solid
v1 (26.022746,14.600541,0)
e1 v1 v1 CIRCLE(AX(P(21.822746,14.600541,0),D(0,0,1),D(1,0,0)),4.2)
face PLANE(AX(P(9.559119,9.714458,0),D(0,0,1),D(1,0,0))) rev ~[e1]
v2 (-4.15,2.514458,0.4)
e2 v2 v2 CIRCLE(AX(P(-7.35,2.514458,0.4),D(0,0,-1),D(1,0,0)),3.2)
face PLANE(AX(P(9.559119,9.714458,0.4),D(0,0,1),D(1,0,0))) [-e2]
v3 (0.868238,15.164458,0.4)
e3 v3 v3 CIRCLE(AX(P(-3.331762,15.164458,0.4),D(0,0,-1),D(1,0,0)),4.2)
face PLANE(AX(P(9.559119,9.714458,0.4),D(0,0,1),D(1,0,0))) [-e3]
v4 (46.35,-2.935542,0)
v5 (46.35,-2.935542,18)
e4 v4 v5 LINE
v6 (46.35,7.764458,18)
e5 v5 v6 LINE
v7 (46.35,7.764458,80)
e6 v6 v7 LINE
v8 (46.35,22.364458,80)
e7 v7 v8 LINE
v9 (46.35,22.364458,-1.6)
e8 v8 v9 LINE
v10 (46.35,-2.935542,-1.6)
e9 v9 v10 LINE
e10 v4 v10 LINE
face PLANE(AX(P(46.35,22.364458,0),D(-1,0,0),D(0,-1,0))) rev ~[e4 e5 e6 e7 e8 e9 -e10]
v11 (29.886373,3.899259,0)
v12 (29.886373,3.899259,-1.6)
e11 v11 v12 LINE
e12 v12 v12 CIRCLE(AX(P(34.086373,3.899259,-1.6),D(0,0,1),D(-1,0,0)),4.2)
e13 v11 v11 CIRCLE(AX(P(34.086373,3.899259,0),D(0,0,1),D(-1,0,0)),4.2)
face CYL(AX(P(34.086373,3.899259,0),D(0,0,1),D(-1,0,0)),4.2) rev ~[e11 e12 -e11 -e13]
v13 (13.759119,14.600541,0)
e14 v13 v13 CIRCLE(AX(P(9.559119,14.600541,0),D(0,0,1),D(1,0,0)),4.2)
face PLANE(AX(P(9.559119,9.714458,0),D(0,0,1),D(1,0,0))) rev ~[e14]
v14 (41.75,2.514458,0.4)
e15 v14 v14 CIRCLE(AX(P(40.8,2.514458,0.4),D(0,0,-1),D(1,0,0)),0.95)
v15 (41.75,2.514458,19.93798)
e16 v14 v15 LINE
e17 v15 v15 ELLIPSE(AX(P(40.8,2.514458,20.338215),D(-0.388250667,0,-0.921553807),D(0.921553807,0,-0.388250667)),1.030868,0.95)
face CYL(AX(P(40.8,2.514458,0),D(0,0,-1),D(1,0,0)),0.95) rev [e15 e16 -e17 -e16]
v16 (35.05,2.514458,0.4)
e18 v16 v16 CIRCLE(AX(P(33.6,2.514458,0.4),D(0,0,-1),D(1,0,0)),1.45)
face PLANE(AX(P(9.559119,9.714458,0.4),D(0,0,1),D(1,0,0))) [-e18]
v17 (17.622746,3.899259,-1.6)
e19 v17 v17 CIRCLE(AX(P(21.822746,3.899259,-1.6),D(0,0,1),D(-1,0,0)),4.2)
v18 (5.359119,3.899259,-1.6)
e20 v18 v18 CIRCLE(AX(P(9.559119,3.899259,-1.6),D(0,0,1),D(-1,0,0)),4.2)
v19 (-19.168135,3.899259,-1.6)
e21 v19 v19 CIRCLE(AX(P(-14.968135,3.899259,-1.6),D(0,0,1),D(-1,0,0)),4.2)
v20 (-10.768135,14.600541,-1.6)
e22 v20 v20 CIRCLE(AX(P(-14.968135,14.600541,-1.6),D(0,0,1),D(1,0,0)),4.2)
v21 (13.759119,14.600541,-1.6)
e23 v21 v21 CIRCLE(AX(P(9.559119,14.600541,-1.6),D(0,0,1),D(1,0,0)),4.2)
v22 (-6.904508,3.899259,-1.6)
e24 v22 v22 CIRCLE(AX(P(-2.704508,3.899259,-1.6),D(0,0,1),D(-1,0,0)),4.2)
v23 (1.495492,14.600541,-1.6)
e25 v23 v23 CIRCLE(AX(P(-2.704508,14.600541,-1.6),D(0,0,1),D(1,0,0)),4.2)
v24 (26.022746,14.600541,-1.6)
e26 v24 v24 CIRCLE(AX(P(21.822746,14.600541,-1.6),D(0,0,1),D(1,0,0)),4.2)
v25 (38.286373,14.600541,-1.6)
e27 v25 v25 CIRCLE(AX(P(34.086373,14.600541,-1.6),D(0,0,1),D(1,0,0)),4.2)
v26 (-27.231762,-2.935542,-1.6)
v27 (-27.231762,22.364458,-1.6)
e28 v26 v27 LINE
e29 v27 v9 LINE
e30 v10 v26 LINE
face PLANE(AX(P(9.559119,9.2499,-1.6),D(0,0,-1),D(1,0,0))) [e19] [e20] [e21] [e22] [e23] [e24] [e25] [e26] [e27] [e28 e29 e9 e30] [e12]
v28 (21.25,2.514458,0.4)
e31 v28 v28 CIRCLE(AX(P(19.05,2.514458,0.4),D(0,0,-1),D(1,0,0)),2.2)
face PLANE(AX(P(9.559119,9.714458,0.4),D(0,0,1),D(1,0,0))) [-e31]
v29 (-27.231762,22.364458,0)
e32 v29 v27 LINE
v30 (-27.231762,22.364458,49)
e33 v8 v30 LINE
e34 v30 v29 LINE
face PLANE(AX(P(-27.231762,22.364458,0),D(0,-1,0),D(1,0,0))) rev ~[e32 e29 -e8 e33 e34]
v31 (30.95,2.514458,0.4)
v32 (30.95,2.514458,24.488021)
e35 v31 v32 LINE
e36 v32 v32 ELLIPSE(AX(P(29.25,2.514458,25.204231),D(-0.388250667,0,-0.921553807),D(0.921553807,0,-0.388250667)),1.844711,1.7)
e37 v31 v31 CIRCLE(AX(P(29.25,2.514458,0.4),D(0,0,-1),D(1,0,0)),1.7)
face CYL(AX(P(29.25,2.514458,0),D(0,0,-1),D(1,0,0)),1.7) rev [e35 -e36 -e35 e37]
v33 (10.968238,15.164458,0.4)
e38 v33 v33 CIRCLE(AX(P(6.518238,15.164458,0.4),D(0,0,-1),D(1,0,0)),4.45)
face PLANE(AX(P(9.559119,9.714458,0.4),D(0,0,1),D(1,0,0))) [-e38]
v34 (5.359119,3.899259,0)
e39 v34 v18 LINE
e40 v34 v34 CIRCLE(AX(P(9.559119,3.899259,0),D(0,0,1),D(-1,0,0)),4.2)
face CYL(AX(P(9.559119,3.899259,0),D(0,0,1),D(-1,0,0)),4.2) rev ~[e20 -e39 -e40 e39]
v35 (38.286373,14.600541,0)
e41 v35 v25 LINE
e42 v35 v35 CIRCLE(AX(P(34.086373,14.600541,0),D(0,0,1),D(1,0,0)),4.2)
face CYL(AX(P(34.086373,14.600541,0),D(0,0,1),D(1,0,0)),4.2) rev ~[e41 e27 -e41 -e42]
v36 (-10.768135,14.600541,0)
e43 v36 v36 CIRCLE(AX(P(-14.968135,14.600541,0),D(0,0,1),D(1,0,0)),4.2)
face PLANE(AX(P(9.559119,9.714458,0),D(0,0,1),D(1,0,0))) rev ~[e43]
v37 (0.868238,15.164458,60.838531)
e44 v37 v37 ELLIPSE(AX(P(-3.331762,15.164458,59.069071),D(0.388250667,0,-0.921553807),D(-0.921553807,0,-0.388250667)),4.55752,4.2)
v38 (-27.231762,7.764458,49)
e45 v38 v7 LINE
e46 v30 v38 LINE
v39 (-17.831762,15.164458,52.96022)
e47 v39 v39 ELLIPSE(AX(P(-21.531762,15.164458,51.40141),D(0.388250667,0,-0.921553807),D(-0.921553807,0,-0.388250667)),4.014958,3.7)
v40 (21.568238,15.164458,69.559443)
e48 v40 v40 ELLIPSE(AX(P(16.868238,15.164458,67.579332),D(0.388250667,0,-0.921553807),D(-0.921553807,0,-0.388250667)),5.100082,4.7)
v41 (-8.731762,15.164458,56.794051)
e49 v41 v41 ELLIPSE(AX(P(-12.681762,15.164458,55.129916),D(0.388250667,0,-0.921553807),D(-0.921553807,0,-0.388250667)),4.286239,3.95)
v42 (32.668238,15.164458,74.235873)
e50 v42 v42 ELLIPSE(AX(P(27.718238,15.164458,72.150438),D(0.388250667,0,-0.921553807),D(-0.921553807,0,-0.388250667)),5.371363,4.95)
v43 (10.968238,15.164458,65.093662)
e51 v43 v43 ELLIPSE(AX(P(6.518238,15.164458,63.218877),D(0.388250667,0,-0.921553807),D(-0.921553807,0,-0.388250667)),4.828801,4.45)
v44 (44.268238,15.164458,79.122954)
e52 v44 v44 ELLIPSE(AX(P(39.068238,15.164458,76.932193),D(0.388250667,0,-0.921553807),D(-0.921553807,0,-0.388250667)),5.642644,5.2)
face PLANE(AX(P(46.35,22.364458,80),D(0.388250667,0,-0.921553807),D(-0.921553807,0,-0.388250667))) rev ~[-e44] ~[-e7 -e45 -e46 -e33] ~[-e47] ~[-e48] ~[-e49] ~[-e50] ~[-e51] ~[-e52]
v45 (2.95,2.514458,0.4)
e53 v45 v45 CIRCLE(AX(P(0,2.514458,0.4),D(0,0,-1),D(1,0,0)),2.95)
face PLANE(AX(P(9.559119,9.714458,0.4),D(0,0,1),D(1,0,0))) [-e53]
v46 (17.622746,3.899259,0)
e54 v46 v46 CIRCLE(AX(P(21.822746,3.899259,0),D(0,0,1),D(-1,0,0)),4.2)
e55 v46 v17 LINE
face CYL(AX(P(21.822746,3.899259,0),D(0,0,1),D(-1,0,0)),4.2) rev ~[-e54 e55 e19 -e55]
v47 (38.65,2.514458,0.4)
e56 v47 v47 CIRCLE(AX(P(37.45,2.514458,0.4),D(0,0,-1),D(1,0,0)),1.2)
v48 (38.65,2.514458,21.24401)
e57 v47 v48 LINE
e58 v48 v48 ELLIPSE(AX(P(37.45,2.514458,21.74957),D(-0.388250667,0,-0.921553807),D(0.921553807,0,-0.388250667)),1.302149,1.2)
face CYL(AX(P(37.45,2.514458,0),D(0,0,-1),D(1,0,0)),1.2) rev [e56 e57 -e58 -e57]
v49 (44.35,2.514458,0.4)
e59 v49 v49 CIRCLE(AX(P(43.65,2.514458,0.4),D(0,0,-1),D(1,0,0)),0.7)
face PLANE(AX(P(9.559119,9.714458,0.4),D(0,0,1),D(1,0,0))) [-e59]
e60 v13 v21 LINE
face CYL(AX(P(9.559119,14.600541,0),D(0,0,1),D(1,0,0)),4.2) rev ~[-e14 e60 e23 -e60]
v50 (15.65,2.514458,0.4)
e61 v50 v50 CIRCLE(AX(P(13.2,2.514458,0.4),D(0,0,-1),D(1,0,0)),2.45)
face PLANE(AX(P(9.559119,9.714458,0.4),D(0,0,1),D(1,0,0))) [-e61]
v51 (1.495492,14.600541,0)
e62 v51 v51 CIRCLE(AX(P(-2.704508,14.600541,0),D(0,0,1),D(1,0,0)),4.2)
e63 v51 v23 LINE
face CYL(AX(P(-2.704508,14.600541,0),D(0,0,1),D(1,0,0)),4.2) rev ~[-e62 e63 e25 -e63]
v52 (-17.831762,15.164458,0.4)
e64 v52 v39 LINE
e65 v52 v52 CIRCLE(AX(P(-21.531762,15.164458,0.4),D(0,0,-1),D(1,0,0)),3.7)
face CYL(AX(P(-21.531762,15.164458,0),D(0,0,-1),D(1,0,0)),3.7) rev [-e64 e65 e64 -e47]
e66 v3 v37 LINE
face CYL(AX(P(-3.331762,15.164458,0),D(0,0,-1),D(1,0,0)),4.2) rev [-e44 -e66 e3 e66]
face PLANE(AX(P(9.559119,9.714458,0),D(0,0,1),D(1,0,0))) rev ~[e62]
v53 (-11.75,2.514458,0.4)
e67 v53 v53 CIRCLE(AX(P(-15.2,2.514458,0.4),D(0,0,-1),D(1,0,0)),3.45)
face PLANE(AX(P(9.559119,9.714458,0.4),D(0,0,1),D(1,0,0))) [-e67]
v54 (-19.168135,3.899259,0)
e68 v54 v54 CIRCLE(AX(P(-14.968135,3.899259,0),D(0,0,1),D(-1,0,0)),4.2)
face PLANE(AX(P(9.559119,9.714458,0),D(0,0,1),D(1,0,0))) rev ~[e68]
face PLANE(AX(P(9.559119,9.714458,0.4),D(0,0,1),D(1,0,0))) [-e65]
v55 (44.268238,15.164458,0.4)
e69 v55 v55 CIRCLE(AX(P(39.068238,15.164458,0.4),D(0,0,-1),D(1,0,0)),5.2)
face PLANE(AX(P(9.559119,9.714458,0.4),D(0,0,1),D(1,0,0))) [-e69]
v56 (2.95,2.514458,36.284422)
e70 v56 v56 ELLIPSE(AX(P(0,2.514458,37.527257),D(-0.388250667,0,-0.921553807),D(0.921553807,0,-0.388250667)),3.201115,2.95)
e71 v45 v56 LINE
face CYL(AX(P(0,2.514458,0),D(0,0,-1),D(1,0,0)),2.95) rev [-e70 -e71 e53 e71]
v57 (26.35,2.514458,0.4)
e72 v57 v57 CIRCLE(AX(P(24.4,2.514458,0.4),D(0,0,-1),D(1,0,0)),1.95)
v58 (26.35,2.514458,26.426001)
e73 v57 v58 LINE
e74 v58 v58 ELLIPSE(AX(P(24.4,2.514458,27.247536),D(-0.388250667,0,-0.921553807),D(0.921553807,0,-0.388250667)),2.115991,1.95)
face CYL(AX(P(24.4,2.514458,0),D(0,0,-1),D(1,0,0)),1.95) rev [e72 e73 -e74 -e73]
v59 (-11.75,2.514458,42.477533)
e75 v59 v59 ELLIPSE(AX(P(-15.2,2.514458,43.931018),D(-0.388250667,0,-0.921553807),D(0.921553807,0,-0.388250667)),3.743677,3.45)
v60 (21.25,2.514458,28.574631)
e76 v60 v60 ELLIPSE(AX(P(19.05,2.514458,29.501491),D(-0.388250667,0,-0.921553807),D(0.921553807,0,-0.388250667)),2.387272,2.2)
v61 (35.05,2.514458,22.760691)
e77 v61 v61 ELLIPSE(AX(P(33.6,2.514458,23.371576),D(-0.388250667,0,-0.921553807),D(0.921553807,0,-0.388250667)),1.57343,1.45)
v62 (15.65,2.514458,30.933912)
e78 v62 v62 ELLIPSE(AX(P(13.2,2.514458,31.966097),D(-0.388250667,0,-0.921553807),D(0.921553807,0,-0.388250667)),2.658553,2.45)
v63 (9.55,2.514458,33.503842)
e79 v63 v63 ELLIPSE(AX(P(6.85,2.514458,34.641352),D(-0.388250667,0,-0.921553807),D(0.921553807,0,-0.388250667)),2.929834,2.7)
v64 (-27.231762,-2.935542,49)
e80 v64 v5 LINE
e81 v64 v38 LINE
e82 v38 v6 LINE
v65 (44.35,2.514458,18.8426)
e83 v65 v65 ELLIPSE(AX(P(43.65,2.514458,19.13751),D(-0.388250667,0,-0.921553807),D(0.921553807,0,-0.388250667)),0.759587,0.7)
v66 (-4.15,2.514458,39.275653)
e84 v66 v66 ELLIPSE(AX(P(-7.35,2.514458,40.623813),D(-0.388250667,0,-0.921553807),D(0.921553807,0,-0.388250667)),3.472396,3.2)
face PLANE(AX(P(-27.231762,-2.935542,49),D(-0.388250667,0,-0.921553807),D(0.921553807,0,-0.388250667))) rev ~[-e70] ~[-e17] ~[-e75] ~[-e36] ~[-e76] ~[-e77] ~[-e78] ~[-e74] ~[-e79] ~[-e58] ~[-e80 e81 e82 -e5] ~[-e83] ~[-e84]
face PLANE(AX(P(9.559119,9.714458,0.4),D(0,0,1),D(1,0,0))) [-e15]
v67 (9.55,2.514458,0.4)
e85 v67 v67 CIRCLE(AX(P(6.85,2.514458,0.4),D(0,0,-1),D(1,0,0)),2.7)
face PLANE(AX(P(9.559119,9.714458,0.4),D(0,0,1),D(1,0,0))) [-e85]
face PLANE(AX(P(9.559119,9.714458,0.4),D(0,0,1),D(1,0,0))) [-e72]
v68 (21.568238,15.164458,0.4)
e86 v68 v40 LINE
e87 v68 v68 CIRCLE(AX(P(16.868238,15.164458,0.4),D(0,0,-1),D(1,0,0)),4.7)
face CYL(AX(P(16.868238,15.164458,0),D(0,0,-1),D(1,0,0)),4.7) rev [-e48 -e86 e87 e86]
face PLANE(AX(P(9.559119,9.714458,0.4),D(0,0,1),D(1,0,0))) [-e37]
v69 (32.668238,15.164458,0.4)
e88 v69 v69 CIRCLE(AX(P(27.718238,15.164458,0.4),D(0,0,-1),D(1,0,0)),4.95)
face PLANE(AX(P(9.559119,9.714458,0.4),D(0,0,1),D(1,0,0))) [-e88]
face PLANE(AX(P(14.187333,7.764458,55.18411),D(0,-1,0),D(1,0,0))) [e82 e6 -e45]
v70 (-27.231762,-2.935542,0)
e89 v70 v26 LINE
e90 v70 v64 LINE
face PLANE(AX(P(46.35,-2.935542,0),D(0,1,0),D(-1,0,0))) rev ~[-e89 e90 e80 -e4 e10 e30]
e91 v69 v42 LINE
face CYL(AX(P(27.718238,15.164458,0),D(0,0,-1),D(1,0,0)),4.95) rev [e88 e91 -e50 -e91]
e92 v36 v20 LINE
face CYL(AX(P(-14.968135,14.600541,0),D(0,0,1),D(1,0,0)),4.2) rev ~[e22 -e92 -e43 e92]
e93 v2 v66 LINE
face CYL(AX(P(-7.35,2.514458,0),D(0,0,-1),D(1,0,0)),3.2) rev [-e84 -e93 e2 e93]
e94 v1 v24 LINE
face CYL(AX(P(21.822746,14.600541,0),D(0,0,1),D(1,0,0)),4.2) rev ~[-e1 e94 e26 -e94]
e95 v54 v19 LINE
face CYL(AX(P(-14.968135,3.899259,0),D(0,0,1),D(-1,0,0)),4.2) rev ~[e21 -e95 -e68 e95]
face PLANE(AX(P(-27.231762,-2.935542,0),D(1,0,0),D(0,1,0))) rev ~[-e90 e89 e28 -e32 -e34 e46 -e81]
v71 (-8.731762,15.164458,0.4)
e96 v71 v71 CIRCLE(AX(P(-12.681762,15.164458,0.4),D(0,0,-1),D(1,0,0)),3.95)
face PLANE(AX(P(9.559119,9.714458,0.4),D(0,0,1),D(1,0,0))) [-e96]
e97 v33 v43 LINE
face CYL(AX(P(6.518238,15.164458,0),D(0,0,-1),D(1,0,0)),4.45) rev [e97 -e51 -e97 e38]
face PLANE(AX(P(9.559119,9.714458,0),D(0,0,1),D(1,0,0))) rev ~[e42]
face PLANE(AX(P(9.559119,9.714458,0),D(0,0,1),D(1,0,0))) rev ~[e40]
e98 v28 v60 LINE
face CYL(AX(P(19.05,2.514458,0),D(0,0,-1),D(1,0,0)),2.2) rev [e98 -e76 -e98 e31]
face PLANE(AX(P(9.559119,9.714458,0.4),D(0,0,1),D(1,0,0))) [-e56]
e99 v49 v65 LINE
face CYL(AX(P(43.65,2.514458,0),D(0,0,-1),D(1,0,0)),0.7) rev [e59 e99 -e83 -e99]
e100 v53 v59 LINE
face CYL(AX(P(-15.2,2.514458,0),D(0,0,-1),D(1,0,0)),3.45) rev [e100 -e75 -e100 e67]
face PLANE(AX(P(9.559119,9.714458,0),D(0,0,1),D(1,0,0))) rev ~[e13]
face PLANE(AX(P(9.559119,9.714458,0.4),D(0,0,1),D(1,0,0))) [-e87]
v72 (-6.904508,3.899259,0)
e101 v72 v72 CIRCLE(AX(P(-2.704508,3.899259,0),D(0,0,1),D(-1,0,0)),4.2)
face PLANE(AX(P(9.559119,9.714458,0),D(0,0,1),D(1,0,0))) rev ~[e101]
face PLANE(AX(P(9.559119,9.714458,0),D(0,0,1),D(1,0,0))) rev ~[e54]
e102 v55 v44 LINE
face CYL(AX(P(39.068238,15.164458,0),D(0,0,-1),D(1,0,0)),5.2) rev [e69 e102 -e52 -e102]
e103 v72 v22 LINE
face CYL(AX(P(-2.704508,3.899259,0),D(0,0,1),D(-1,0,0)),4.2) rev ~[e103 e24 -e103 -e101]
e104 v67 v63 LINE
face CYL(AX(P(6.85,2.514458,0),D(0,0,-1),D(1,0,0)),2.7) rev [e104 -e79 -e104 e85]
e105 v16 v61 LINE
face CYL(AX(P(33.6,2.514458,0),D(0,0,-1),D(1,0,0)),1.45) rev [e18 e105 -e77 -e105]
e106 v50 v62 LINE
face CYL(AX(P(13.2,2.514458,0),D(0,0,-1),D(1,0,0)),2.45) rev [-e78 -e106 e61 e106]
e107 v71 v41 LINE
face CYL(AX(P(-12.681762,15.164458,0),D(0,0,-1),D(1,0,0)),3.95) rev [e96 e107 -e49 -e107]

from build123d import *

# Parameters (mm, degrees)
F0_W     = 73.5817615905
F0_H     = 25.3
F0_R     = 3.45
F0_R_2   = 3.2
F0_R_3   = 2.95
F0_R_4   = 2.7
F0_R_5   = 2.45
F0_R_6   = 2.2
F0_R_7   = 1.95
F0_R_8   = 1.7
F0_R_9   = 1.45
F0_R_10  = 1.2
F0_R_11  = 0.95
F0_R_12  = 0.7
F0_R_13  = 3.7
F0_R_14  = 3.95
F0_R_15  = 4.2
F0_R_16  = 4.45
F0_R_17  = 4.7
F0_R_18  = 4.95
F0_R_19  = 5.2
F1_DEPTH = 80
F3_DEPTH = 0.4
F4_DEPTH = 10.7
F6_DEPTH = 25
F8_DEPTH = 1.6


with BuildPart() as f1:
    # F0 (on Top) → F1 (new body)
    with BuildSketch(Plane.XY):
        with Locations((9.5591192048, 9.7144579899)):
            Rectangle(F0_W, F0_H)
        with Locations((-15.2, 2.5144579899)):
            Circle(F0_R, mode=Mode.SUBTRACT)
        with Locations((-7.35, 2.5144579899)):
            Circle(F0_R_2, mode=Mode.SUBTRACT)
        with Locations((0, 2.5144579899)):
            Circle(F0_R_3, mode=Mode.SUBTRACT)
        with Locations((6.85, 2.5144579899)):
            Circle(F0_R_4, mode=Mode.SUBTRACT)
        with Locations((13.2, 2.5144579899)):
            Circle(F0_R_5, mode=Mode.SUBTRACT)
        with Locations((19.05, 2.5144579899)):
            Circle(F0_R_6, mode=Mode.SUBTRACT)
        with Locations((24.4, 2.5144579899)):
            Circle(F0_R_7, mode=Mode.SUBTRACT)
        with Locations((29.25, 2.5144579899)):
            Circle(F0_R_8, mode=Mode.SUBTRACT)
        with Locations((33.6, 2.5144579899)):
            Circle(F0_R_9, mode=Mode.SUBTRACT)
        with Locations((37.45, 2.5144579899)):
            Circle(F0_R_10, mode=Mode.SUBTRACT)
        with Locations((40.8, 2.5144579899)):
            Circle(F0_R_11, mode=Mode.SUBTRACT)
        with Locations((43.65, 2.5144579899)):
            Circle(F0_R_12, mode=Mode.SUBTRACT)
        with Locations((-21.5317615905, 15.1644579899)):
            Circle(F0_R_13, mode=Mode.SUBTRACT)
        with Locations((-12.6817615905, 15.1644579899)):
            Circle(F0_R_14, mode=Mode.SUBTRACT)
        with Locations((-3.3317615905, 15.1644579899)):
            Circle(F0_R_15, mode=Mode.SUBTRACT)
        with Locations((6.5182384095, 15.1644579899)):
            Circle(F0_R_16, mode=Mode.SUBTRACT)
        with Locations((16.8682384095, 15.1644579899)):
            Circle(F0_R_17, mode=Mode.SUBTRACT)
        with Locations((27.7182384095, 15.1644579899)):
            Circle(F0_R_18, mode=Mode.SUBTRACT)
        with Locations((39.0682384095, 15.1644579899)):
            Circle(F0_R_19, mode=Mode.SUBTRACT)
    extrude(amount=F1_DEPTH)

    # F2 (on face) → F4 (cut)
    with BuildSketch(Plane.XZ.offset(2.9355420101)):
        Polygon((-27.2317615905, 80), (-27.2317615905, 49), (46.35, 18), (46.35, 80), align=None)
    extrude(amount=-F4_DEPTH, mode=Mode.SUBTRACT)

    # F5 (on face) → F6 (cut)
    with BuildSketch(Plane(origin=(0, 22.3644579899, 0), x_dir=(-1, 0, 0), z_dir=(0, 1, 0))):
        Polygon((-46.35, 80), (27.2317615905, 49), (27.2317615905, 80), align=None)
    extrude(amount=-F6_DEPTH, mode=Mode.SUBTRACT)



with BuildPart() as f3:
    # F0 (on Top) → F3 (new body)
    with BuildSketch(Plane.XY):
        with Locations((9.5591192048, 9.7144579899)):
            Rectangle(F0_W, F0_H)
        with Locations((-15.2, 2.5144579899)):
            Circle(F0_R, mode=Mode.SUBTRACT)
        with Locations((-7.35, 2.5144579899)):
            Circle(F0_R_2, mode=Mode.SUBTRACT)
        with Locations((0, 2.5144579899)):
            Circle(F0_R_3, mode=Mode.SUBTRACT)
        with Locations((6.85, 2.5144579899)):
            Circle(F0_R_4, mode=Mode.SUBTRACT)
        with Locations((13.2, 2.5144579899)):
            Circle(F0_R_5, mode=Mode.SUBTRACT)
        with Locations((19.05, 2.5144579899)):
            Circle(F0_R_6, mode=Mode.SUBTRACT)
        with Locations((24.4, 2.5144579899)):
            Circle(F0_R_7, mode=Mode.SUBTRACT)
        with Locations((29.25, 2.5144579899)):
            Circle(F0_R_8, mode=Mode.SUBTRACT)
        with Locations((33.6, 2.5144579899)):
            Circle(F0_R_9, mode=Mode.SUBTRACT)
        with Locations((37.45, 2.5144579899)):
            Circle(F0_R_10, mode=Mode.SUBTRACT)
        with Locations((40.8, 2.5144579899)):
            Circle(F0_R_11, mode=Mode.SUBTRACT)
        with Locations((43.65, 2.5144579899)):
            Circle(F0_R_12, mode=Mode.SUBTRACT)
        with Locations((-21.5317615905, 15.1644579899)):
            Circle(F0_R_13, mode=Mode.SUBTRACT)
        with Locations((-12.6817615905, 15.1644579899)):
            Circle(F0_R_14, mode=Mode.SUBTRACT)
        with Locations((-3.3317615905, 15.1644579899)):
            Circle(F0_R_15, mode=Mode.SUBTRACT)
        with Locations((6.5182384095, 15.1644579899)):
            Circle(F0_R_16, mode=Mode.SUBTRACT)
        with Locations((16.8682384095, 15.1644579899)):
            Circle(F0_R_17, mode=Mode.SUBTRACT)
        with Locations((27.7182384095, 15.1644579899)):
            Circle(F0_R_18, mode=Mode.SUBTRACT)
        with Locations((39.0682384095, 15.1644579899)):
            Circle(F0_R_19, mode=Mode.SUBTRACT)
        with Locations((39.0682384095, 15.1644579899)):
            Circle(F0_R_19)
        with Locations((27.7182384095, 15.1644579899)):
            Circle(F0_R_18)
        with Locations((16.8682384095, 15.1644579899)):
            Circle(F0_R_17)
        with Locations((6.5182384095, 15.1644579899)):
            Circle(F0_R_16)
        with Locations((-3.3317615905, 15.1644579899)):
            Circle(F0_R_15)
        with Locations((-12.6817615905, 15.1644579899)):
            Circle(F0_R_14)
        with Locations((-21.5317615905, 15.1644579899)):
            Circle(F0_R_13)
        with Locations((-15.2, 2.5144579899)):
            Circle(F0_R)
        with Locations((-7.35, 2.5144579899)):
            Circle(F0_R_2)
        with Locations((0, 2.5144579899)):
            Circle(F0_R_3)
        with Locations((6.85, 2.5144579899)):
            Circle(F0_R_4)
        with Locations((13.2, 2.5144579899)):
            Circle(F0_R_5)
        with Locations((19.05, 2.5144579899)):
            Circle(F0_R_6)
        with Locations((24.4, 2.5144579899)):
            Circle(F0_R_7)
        with Locations((29.25, 2.5144579899)):
            Circle(F0_R_8)
        with Locations((33.6, 2.5144579899)):
            Circle(F0_R_9)
        with Locations((37.45, 2.5144579899)):
            Circle(F0_R_10)
        with Locations((40.8, 2.5144579899)):
            Circle(F0_R_11)
        with Locations((43.65, 2.5144579899)):
            Circle(F0_R_12)
    extrude(amount=F3_DEPTH)


with BuildPart() as f1_1:
    add(f1.part)

    add(f3.part)  # F8 merges F3
    # F7 (on face) → F8 (join)
    with BuildSketch(Plane(origin=(0, 0, 0), x_dir=(1, 0, 0), z_dir=(0, 0, -1))):
        with BuildLine():
            Line((-19.1681346587, -3.8992594928), (-27.2317615905, -3.8992594928))
            Line((-27.2317615905, -3.8992594928), (-27.2317615905, -14.6005405113))
            Line((-27.2317615905, -14.6005405113), (-19.1681346587, -14.6005405113))
            ThreePointArc((-19.1681346587, -14.6005405113), (-14.9681346587, -10.4005405113), (-10.7681346587, -14.6005405113))
            Line((-10.7681346587, -14.6005405113), (-6.904507727, -14.6005405113))
            ThreePointArc((-6.904507727, -14.6005405113), (-2.704507727, -10.4005405113), (1.495492273, -14.6005405113))
            Line((1.495492273, -14.6005405113), (5.3591192048, -14.6005405113))
            ThreePointArc((5.3591192048, -14.6005405113), (9.5591192048, -10.4005405113), (13.7591192048, -14.6005405113))
            Line((13.7591192048, -14.6005405113), (17.6227461365, -14.6005405113))
            ThreePointArc((17.6227461365, -14.6005405113), (21.8227461365, -10.4005405113), (26.0227461365, -14.6005405113))
            Line((26.0227461365, -14.6005405113), (29.8863730683, -14.6005405113))
            ThreePointArc((29.8863730683, -14.6005405113), (34.0863730683, -10.4005405113), (38.2863730683, -14.6005405113))
            Line((38.2863730683, -14.6005405113), (46.35, -14.6005405113))
            Line((46.35, -14.6005405113), (46.35, -3.8992594928))
            Line((46.35, -3.8992594928), (38.2863730683, -3.8992594928))
            ThreePointArc((38.2863730683, -3.8992594928), (34.0863730683, -8.0992594928), (29.8863730683, -3.8992594928))
            Line((29.8863730683, -3.8992594928), (26.0227461365, -3.8992594928))
            ThreePointArc((26.0227461365, -3.8992594928), (21.8227461365, -8.0992594928), (17.6227461365, -3.8992594928))
            Line((17.6227461365, -3.8992594928), (13.7591192048, -3.8992594928))
            ThreePointArc((13.7591192048, -3.8992594928), (9.5591192048, -8.0992594928), (5.3591192048, -3.8992594928))
            Line((5.3591192048, -3.8992594928), (1.495492273, -3.8992594928))
            ThreePointArc((1.495492273, -3.8992594928), (-2.704507727, -8.0992594928), (-6.904507727, -3.8992594928))
            Line((-6.904507727, -3.8992594928), (-10.7681346587, -3.8992594928))
            ThreePointArc((-10.7681346587, -3.8992594928), (-14.9681346587, -8.0992594928), (-19.1681346587, -3.8992594928))
        make_face()
        with BuildLine():
            Line((46.35, 2.9355420101), (-27.2317615905, 2.9355420101))
            Line((-27.2317615905, 2.9355420101), (-27.2317615905, -3.8992594928))
            Line((-27.2317615905, -3.8992594928), (-19.1681346587, -3.8992594928))
            ThreePointArc((-19.1681346587, -3.8992594928), (-14.9681346587, 0.3007405072), (-10.7681346587, -3.8992594928))
            Line((-10.7681346587, -3.8992594928), (-6.904507727, -3.8992594928))
            ThreePointArc((-6.904507727, -3.8992594928), (-2.704507727, 0.3007405072), (1.495492273, -3.8992594928))
            Line((1.495492273, -3.8992594928), (5.3591192048, -3.8992594928))
            ThreePointArc((5.3591192048, -3.8992594928), (9.5591192048, 0.3007405072), (13.7591192048, -3.8992594928))
            Line((13.7591192048, -3.8992594928), (17.6227461365, -3.8992594928))
            ThreePointArc((17.6227461365, -3.8992594928), (21.8227461365, 0.3007405072), (26.0227461365, -3.8992594928))
            Line((26.0227461365, -3.8992594928), (29.8863730683, -3.8992594928))
            ThreePointArc((29.8863730683, -3.8992594928), (34.0863730683, 0.3007405072), (38.2863730683, -3.8992594928))
            Line((38.2863730683, -3.8992594928), (46.35, -3.8992594928))
            Line((46.35, -3.8992594928), (46.35, 2.9355420101))
        make_face()
        with BuildLine():
            Line((-19.1681346587, -14.6005405113), (-27.2317615905, -14.6005405113))
            Line((-27.2317615905, -14.6005405113), (-27.2317615905, -22.3644579899))
            Line((-27.2317615905, -22.3644579899), (46.35, -22.3644579899))
            Line((46.35, -22.3644579899), (46.35, -14.6005405113))
            Line((46.35, -14.6005405113), (38.2863730683, -14.6005405113))
            ThreePointArc((38.2863730683, -14.6005405113), (34.0863730683, -18.8005405113), (29.8863730683, -14.6005405113))
            Line((29.8863730683, -14.6005405113), (26.0227461365, -14.6005405113))
            ThreePointArc((26.0227461365, -14.6005405113), (21.8227461365, -18.8005405113), (17.6227461365, -14.6005405113))
            Line((17.6227461365, -14.6005405113), (13.7591192048, -14.6005405113))
            ThreePointArc((13.7591192048, -14.6005405113), (9.5591192048, -18.8005405113), (5.3591192048, -14.6005405113))
            Line((5.3591192048, -14.6005405113), (1.495492273, -14.6005405113))
            ThreePointArc((1.495492273, -14.6005405113), (-2.704507727, -18.8005405113), (-6.904507727, -14.6005405113))
            Line((-6.904507727, -14.6005405113), (-10.7681346587, -14.6005405113))
            ThreePointArc((-10.7681346587, -14.6005405113), (-14.9681346587, -18.8005405113), (-19.1681346587, -14.6005405113))
        make_face()
    extrude(amount=F8_DEPTH)


solid = f1_1.part
